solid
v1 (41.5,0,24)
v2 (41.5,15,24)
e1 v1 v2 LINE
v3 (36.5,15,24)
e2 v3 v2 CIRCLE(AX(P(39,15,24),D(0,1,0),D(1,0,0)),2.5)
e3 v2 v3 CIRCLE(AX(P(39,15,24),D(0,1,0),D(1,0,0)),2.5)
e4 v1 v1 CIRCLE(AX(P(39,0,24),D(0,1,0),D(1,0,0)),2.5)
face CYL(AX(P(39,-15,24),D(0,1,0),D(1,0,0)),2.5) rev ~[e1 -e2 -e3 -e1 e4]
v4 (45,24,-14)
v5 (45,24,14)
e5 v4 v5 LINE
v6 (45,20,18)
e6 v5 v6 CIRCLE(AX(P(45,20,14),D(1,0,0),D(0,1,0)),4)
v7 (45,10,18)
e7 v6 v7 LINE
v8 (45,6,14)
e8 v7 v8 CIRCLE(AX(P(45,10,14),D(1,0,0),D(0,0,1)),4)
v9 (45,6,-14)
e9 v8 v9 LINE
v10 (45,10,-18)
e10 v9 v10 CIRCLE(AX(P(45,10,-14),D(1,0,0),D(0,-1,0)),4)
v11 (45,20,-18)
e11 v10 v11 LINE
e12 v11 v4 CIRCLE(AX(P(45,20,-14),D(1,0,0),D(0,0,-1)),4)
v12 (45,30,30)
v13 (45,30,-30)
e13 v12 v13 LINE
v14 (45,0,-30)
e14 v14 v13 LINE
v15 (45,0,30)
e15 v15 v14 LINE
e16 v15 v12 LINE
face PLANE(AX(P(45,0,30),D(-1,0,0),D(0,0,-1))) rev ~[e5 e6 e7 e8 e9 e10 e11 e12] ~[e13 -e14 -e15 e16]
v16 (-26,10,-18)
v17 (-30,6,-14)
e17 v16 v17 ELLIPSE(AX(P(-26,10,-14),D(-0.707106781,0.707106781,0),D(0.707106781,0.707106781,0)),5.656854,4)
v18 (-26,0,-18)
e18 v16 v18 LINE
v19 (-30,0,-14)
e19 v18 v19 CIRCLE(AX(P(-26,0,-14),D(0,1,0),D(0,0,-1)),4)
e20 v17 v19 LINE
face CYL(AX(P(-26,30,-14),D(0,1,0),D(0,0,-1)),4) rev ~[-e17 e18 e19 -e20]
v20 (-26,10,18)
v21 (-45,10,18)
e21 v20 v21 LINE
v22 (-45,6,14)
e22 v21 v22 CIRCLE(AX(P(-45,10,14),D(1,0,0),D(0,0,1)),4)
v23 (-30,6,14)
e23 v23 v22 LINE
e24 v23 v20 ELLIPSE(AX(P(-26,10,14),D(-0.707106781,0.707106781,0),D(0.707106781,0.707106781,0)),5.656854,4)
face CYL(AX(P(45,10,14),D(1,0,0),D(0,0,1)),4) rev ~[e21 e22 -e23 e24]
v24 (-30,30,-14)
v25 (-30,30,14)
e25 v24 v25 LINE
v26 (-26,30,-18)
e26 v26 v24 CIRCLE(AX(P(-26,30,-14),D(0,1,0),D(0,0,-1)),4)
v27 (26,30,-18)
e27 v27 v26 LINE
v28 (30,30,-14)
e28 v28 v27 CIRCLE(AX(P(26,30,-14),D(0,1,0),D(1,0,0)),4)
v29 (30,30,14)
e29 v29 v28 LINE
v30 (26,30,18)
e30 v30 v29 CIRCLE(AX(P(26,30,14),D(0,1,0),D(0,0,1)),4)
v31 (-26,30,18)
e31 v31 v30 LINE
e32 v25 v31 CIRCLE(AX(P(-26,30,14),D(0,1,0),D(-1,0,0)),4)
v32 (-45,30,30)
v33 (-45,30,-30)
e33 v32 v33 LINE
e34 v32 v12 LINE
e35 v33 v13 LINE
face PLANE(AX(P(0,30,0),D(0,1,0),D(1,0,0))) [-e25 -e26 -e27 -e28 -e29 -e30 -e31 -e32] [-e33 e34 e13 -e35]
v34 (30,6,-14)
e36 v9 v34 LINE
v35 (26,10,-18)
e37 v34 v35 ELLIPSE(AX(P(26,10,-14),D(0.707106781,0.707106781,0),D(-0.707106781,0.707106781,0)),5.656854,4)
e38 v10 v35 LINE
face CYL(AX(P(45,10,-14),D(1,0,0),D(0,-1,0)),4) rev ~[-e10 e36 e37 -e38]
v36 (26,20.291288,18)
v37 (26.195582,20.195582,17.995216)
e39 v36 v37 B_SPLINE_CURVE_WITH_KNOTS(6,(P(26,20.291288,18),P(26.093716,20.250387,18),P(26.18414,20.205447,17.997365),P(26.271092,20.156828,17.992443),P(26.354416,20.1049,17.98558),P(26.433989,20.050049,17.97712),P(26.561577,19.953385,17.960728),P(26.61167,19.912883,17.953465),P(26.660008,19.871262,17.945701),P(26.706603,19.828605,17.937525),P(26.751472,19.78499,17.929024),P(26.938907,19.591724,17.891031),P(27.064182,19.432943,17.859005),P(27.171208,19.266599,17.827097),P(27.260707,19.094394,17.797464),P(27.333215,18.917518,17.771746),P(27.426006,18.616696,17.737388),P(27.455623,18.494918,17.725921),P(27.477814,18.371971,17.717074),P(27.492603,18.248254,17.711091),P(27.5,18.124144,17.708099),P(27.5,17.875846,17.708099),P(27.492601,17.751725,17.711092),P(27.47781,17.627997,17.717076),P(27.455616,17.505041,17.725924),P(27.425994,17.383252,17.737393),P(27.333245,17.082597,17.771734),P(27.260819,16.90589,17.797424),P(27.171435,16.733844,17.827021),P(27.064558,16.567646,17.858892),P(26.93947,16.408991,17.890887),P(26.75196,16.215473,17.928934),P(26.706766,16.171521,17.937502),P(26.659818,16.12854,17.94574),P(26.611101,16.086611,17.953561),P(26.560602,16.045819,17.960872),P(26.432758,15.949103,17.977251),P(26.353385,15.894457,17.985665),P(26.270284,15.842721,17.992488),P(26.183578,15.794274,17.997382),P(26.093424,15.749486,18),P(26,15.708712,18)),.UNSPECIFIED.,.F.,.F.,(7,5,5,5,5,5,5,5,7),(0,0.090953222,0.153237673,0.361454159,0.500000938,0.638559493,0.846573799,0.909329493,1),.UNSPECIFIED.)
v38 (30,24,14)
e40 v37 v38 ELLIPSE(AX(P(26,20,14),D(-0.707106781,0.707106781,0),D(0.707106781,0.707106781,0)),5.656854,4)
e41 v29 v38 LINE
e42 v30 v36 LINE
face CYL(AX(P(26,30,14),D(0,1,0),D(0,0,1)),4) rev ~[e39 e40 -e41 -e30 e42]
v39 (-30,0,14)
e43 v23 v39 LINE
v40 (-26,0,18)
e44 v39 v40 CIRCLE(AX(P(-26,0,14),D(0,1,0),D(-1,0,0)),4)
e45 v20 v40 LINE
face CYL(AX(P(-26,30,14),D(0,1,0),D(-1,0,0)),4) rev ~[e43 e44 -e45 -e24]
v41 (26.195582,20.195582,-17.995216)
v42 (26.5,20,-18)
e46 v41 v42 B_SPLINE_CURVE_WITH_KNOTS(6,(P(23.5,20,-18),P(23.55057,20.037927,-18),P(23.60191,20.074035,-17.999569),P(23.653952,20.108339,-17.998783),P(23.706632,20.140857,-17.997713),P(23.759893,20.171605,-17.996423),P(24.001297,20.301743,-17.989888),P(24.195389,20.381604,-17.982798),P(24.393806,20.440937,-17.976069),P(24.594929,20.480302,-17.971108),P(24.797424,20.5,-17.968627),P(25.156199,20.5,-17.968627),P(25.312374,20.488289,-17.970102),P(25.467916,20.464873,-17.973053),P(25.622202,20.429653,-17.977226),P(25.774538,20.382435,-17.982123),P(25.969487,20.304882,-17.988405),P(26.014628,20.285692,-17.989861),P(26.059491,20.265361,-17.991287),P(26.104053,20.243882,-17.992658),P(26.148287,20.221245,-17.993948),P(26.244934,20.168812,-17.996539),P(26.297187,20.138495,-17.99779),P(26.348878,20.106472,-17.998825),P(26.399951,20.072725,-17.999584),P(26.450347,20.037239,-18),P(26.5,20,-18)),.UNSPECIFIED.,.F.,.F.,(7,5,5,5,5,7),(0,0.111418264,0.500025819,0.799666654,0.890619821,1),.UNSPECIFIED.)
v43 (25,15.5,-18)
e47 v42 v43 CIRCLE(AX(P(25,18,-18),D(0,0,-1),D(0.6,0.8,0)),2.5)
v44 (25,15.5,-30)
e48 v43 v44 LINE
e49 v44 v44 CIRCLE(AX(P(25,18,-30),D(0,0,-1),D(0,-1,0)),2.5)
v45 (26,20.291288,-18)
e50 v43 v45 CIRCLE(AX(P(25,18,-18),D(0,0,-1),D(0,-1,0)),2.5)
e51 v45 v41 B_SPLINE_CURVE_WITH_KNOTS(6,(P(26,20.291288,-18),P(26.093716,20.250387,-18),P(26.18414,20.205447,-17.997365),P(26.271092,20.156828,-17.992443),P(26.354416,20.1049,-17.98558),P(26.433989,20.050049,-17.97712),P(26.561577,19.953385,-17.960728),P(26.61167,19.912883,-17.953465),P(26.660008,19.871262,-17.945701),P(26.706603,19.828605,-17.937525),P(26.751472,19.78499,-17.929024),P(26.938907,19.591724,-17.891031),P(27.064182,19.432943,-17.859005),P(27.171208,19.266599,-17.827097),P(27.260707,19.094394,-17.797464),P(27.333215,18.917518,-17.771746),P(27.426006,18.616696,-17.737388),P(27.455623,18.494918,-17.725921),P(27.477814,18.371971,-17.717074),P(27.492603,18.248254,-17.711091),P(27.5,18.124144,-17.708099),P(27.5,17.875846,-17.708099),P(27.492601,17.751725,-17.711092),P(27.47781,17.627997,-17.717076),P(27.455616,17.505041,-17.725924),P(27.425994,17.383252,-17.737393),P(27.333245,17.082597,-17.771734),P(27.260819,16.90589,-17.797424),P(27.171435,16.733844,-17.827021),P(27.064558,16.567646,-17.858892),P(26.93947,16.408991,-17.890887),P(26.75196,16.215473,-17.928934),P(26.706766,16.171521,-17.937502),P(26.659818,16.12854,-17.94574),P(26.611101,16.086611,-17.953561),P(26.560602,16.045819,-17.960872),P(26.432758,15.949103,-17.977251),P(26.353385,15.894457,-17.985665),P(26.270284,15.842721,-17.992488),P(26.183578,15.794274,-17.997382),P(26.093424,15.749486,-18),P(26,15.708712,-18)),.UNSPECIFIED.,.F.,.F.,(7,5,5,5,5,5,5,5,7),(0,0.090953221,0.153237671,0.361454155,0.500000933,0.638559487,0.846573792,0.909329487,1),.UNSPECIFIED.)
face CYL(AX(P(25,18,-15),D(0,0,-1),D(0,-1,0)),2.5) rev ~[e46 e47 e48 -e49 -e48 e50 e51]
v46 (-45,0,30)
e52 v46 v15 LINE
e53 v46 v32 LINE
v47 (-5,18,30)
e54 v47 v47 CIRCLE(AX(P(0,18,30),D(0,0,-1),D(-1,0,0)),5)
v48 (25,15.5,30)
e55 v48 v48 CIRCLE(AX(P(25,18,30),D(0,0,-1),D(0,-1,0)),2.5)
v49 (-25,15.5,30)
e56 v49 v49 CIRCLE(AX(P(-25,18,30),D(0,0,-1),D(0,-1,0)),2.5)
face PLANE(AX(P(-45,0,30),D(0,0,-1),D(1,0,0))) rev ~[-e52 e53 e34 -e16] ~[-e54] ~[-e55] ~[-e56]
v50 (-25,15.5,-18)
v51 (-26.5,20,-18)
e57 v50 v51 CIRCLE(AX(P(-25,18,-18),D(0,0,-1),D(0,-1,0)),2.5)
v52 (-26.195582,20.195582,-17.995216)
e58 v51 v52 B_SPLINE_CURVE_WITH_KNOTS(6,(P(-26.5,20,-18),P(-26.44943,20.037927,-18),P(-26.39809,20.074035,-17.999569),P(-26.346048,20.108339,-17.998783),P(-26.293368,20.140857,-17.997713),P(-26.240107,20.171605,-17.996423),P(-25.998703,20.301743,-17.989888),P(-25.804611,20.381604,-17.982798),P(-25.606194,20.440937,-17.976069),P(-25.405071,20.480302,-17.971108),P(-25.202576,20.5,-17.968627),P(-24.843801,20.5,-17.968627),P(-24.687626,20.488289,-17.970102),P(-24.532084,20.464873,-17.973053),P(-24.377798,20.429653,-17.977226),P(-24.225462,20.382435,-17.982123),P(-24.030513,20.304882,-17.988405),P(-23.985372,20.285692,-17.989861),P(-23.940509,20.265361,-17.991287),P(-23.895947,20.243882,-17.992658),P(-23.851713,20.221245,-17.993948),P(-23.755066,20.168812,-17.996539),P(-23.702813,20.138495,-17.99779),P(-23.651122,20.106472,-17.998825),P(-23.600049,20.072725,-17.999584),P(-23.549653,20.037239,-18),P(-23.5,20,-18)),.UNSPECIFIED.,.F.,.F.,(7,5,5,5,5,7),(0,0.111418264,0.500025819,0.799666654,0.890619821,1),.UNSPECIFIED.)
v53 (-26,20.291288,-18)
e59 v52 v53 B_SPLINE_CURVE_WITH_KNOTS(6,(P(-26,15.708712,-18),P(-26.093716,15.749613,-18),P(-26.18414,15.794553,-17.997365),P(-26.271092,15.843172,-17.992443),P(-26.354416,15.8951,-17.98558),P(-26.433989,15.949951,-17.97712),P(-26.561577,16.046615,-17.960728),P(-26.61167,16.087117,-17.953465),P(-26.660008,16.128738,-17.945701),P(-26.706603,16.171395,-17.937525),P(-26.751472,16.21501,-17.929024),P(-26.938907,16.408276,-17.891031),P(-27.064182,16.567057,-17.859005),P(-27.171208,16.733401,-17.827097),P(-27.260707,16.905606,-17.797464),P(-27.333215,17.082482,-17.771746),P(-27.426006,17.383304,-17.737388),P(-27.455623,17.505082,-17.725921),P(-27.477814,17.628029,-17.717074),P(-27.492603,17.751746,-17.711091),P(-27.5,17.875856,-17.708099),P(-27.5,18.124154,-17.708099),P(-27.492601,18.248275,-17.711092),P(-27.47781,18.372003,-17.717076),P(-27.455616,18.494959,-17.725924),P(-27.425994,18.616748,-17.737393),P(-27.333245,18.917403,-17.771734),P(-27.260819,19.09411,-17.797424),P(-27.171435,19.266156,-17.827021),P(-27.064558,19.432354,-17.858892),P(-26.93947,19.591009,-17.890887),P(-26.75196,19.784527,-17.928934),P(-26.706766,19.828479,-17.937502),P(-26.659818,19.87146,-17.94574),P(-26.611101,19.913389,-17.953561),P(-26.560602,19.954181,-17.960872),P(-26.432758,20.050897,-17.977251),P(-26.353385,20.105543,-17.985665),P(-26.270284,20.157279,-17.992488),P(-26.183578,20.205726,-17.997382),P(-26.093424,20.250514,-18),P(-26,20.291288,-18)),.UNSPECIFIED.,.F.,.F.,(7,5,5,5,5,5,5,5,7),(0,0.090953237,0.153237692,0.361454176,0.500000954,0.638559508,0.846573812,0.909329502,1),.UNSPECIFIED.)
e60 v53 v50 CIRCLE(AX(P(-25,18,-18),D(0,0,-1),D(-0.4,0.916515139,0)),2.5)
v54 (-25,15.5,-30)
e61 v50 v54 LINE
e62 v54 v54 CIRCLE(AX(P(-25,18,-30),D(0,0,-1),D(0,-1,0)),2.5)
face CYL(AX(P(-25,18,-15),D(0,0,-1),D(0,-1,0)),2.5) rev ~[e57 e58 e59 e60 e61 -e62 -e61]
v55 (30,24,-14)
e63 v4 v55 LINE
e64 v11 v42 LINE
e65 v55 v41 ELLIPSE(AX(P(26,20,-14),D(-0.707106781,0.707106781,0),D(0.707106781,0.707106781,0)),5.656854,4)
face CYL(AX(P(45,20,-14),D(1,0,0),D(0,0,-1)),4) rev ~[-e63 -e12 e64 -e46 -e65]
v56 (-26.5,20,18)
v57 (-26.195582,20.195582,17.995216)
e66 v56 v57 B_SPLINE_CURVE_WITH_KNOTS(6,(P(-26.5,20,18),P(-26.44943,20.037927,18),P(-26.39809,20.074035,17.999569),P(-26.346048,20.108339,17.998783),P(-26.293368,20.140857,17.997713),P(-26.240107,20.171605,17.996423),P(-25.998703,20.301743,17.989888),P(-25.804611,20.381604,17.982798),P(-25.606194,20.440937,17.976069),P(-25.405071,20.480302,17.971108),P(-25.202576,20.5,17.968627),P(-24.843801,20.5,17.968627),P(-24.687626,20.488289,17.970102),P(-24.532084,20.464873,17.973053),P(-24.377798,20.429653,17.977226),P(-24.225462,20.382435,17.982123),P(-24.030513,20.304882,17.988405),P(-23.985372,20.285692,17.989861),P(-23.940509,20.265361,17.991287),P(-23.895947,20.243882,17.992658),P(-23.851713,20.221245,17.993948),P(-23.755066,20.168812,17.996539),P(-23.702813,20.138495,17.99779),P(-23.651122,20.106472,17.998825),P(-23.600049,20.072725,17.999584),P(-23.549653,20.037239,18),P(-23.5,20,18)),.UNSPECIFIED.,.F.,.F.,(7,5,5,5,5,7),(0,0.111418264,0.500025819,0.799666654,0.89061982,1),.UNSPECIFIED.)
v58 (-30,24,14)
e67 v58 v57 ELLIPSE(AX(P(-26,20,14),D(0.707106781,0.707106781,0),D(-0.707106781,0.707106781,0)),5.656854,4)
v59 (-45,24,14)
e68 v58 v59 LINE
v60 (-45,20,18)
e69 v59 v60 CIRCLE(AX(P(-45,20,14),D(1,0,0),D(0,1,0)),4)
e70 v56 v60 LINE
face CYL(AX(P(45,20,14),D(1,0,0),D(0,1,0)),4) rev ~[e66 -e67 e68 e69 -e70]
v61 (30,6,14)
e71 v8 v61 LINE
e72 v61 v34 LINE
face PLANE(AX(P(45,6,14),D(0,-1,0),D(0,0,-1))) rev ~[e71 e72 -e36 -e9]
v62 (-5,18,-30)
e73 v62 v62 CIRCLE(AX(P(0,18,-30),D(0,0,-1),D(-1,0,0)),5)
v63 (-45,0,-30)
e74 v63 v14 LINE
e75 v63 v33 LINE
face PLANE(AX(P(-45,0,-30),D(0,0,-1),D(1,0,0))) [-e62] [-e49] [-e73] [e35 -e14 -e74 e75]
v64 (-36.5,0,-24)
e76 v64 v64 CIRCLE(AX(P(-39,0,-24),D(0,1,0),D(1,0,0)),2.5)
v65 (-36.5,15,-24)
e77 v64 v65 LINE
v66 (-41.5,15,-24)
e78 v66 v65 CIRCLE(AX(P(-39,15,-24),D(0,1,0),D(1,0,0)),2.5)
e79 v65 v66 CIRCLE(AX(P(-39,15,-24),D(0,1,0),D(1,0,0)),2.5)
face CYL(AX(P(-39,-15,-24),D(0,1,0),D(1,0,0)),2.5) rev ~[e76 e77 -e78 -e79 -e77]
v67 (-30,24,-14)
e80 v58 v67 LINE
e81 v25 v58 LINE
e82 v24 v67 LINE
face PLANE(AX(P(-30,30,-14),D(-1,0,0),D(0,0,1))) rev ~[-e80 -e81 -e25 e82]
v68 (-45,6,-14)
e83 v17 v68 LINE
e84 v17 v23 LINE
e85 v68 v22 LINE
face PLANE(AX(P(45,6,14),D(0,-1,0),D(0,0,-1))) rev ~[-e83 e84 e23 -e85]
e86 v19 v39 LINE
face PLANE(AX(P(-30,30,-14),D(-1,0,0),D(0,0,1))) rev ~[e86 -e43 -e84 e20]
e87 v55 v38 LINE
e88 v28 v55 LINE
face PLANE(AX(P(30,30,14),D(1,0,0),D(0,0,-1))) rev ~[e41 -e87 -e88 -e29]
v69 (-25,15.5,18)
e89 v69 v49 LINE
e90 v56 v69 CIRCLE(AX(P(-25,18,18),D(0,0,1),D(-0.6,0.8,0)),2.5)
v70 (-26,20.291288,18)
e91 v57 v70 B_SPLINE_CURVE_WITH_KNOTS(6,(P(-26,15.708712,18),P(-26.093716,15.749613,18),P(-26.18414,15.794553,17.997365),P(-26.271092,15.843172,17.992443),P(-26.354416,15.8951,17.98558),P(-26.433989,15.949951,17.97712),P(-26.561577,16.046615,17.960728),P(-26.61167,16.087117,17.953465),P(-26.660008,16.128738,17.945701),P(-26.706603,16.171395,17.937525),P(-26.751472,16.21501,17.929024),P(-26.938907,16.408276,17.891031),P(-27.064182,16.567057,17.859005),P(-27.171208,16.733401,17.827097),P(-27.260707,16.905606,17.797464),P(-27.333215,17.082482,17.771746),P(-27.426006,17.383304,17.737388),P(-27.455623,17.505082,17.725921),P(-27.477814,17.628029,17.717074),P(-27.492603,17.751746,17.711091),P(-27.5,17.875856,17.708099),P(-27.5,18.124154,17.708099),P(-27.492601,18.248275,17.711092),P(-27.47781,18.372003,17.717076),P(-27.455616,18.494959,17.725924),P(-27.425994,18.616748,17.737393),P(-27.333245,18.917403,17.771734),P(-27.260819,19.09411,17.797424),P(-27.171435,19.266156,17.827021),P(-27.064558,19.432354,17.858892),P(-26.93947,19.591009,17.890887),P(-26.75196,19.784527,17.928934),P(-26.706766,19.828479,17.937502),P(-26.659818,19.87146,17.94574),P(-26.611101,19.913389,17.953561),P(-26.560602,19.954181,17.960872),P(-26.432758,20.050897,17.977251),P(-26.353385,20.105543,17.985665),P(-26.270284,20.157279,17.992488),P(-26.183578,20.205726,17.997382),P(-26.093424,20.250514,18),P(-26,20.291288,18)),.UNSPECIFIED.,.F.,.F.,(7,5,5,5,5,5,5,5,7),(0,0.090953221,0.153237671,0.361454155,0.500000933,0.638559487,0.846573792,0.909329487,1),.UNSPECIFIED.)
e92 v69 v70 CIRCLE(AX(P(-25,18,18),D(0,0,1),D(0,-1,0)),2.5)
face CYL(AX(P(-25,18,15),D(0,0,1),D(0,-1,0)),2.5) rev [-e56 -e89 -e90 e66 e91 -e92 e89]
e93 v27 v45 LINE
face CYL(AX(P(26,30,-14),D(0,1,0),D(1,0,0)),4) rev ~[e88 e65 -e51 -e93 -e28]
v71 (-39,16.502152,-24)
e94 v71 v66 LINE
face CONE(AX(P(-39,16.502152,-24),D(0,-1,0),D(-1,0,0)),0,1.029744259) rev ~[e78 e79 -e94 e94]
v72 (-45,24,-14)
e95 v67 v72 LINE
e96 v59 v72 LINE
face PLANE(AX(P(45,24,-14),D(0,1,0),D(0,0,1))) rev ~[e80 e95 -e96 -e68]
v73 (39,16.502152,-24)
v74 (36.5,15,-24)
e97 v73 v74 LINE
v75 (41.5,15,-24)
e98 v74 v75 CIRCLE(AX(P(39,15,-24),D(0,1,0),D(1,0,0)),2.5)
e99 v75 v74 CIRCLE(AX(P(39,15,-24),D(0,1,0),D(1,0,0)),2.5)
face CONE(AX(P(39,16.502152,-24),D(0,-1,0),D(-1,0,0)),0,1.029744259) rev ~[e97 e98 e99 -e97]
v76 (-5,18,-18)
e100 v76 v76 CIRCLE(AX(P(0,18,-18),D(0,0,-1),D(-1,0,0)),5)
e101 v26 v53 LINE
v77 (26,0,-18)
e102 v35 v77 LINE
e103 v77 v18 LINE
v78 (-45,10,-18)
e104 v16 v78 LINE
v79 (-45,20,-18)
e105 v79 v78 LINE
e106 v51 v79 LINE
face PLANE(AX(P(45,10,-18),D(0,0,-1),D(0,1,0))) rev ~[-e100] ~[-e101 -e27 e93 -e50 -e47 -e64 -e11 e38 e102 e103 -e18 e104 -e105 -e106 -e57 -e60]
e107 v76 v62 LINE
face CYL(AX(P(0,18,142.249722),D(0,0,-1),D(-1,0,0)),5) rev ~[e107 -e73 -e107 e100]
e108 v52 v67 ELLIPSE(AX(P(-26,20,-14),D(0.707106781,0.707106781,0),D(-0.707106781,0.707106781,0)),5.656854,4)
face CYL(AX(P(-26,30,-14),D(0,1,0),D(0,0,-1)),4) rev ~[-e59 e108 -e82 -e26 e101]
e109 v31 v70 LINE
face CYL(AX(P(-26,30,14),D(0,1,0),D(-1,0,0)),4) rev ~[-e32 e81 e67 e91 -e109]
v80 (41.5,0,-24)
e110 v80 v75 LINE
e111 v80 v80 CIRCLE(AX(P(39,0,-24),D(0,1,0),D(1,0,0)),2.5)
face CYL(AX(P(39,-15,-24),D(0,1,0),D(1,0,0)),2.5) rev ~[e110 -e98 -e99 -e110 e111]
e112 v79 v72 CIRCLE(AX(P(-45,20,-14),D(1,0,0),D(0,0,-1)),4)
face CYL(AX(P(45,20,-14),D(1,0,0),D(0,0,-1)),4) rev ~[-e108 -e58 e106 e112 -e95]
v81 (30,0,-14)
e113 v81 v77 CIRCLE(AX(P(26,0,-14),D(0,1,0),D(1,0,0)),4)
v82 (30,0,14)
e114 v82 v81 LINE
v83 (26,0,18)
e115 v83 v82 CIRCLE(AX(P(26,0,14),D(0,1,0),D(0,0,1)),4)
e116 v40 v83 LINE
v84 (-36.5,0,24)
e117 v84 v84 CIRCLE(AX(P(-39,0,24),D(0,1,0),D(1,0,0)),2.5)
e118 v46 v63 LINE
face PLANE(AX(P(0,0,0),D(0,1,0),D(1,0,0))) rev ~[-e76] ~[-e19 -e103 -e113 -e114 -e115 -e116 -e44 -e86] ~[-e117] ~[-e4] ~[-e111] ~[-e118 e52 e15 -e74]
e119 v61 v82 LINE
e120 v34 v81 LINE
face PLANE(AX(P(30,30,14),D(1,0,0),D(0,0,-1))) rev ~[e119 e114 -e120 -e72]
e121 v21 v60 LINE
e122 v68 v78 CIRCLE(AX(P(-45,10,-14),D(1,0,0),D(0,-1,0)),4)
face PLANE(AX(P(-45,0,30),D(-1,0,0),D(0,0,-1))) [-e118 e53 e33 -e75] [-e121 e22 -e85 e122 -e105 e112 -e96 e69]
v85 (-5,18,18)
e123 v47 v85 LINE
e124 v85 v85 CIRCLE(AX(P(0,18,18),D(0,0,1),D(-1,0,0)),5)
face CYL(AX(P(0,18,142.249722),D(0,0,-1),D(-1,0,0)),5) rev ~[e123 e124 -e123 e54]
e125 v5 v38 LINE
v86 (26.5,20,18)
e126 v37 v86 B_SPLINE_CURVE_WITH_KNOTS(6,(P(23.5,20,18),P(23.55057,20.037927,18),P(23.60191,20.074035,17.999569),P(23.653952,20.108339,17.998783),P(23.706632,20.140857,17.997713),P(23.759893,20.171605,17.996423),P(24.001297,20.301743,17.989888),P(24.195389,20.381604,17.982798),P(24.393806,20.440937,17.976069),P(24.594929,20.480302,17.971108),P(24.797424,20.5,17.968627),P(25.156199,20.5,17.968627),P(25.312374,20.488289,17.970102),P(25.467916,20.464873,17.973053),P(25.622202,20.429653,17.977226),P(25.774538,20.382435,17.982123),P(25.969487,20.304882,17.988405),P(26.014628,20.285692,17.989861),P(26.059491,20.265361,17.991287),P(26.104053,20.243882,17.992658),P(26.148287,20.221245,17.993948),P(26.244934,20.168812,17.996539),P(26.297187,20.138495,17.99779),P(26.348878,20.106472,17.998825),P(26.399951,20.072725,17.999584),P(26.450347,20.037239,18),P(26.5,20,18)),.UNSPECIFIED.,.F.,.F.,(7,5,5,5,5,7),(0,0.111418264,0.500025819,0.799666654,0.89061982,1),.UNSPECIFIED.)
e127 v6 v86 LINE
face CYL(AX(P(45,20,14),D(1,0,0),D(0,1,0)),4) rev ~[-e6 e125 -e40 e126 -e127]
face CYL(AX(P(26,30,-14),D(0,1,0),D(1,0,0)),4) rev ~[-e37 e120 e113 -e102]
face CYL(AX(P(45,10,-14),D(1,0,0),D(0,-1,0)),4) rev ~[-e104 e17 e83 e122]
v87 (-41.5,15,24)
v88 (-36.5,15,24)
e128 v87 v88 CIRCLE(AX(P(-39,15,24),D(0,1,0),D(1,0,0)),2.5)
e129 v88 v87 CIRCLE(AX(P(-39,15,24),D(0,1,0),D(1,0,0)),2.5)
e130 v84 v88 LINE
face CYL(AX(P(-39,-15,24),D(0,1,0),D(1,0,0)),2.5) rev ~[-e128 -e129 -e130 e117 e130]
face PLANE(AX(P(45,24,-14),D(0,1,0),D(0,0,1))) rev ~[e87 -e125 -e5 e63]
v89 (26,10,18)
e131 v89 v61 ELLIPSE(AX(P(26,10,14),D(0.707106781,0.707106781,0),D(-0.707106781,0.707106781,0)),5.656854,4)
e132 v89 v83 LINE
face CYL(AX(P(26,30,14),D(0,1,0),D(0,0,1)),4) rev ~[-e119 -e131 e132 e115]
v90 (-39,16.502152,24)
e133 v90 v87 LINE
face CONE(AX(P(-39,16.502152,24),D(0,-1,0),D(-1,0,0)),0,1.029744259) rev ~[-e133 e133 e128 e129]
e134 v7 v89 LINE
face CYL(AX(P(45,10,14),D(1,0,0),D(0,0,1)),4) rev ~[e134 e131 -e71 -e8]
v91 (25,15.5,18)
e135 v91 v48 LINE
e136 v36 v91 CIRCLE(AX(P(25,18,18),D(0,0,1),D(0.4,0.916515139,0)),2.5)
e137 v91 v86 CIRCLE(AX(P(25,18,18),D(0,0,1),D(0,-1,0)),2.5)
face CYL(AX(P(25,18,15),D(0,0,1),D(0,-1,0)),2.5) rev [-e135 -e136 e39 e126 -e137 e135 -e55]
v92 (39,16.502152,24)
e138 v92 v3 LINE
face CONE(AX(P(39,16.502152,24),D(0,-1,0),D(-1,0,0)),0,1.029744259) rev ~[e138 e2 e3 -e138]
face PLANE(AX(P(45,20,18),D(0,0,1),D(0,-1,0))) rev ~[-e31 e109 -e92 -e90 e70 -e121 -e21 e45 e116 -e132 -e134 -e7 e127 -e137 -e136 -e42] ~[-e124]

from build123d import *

# Parameters (mm, degrees)
SKETCH_1_W                  = 90
SKETCH_1_H                  = 60
EXTRUDE_1_DEPTH             = 30
HOLE_WIZARD_1_D             = 10
HOLE_WIZARD_M6_1_AT_2_COUNT = 2
HOLE_WIZARD_M6_1_AT_2_PITCH = 50
CUT_EXTRUDE_1_DEPTH         = 62.846584384
HOLE_WIZARD_M6_2_D          = 5
HOLE_WIZARD_M6_2_DEPTH      = 15
HOLE_WIZARD_M6_2_TIP        = 1.502151548
CUT_EXTRUDE_2_DEPTH         = 100.498743771


with BuildPart() as part:
    # 草图1 → 凸台-拉伸1 (new body)
    with BuildSketch(Plane(origin=(0, 0, 0), x_dir=(1, 0, 0), z_dir=(0, 1, 0))):
        Rectangle(SKETCH_1_W, SKETCH_1_H)
    extrude(amount=EXTRUDE_1_DEPTH)

    # 孔1 (through all)
    with Locations(Plane.XY.offset(30)):
        with Locations((0, 18)):
            Hole(HOLE_WIZARD_1_D / 2)

    # 草图4 → M6 螺纹孔1 (revolve, cut)
    with BuildSketch(Plane(origin=(-25, 18, 30), x_dir=(0, -1, 0), z_dir=(1, 0, 0))):
        Polygon((0, 0), (0, 16.502151548), (2.5, 15), (2.5, 0), align=None)
    hole_wizard_m6_1 = revolve(axis=Axis((-25, 18, 36.35), (0, 0, -1)), mode=Mode.SUBTRACT)

    # M6 螺纹孔1 at 2: M6 螺纹孔1 ×2
    with Locations(*[(i * HOLE_WIZARD_M6_1_AT_2_PITCH, 0, 0) for i in range(1, HOLE_WIZARD_M6_1_AT_2_COUNT)]):
        add(hole_wizard_m6_1, mode=Mode.SUBTRACT)

    # 镜向1: M6 螺纹孔1 across plane
    add(hole_wizard_m6_1.mirror(Plane.XY), mode=Mode.SUBTRACT)

    # 镜向1 copy 1 sketch → 镜向1 copy 1 (revolve, cut)
    with BuildSketch(Plane(origin=(25, 18, -30), x_dir=(0, -1, 0), z_dir=(1, 0, 0))):
        Polygon((0, 0), (0, -16.502151548), (2.5, -15), (2.5, 0), align=None)
    revolve(axis=Axis((25, 18, -36.35), (0, 0, -1)), mode=Mode.SUBTRACT)

    # 草图6 → 切除-拉伸1 (cut, through all)
    with BuildSketch(Plane(origin=(0, 30, 0), x_dir=(1, 0, 0), z_dir=(0, 1, 0))):
        with BuildLine():
            Line((-26, -18), (26, -18))
            ThreePointArc((26, -18), (28.828427125, -16.828427125), (30, -14))
            Line((30, -14), (30, 14))
            ThreePointArc((30, 14), (28.828427125, 16.828427125), (26, 18))
            Line((26, 18), (-26, 18))
            ThreePointArc((-26, 18), (-28.828427125, 16.828427125), (-30, 14))
            Line((-30, 14), (-30, -14))
            ThreePointArc((-30, -14), (-28.828427125, -16.828427125), (-26, -18))
        make_face()
    extrude(amount=-CUT_EXTRUDE_1_DEPTH, mode=Mode.SUBTRACT)

    # M6 螺纹孔2
    with Locations(Plane(origin=(0, 0, 0), x_dir=(-1, 0, 0), z_dir=(0, -1, 0))):
        with Locations((-39, -24), (39, -24), (39, 24), (-39, 24)):
            Hole(HOLE_WIZARD_M6_2_D / 2, depth=HOLE_WIZARD_M6_2_DEPTH)
            with Locations((0, 0, -(HOLE_WIZARD_M6_2_DEPTH + HOLE_WIZARD_M6_2_TIP / 2))):  # 118° drill point
                Cone(0, HOLE_WIZARD_M6_2_D / 2, HOLE_WIZARD_M6_2_TIP, mode=Mode.SUBTRACT)

    # 草图9 → 切除-拉伸2 (cut, through all)
    with BuildSketch(Plane(origin=(45, 0, 0), x_dir=(0, 0, -1), z_dir=(1, 0, 0))):
        with BuildLine():
            Line((-14, 6), (14, 6))
            ThreePointArc((14, 6), (16.828427125, 7.171572875), (18, 10))
            Line((18, 10), (18, 20))
            ThreePointArc((18, 20), (16.828427125, 22.828427125), (14, 24))
            Line((14, 24), (-14, 24))
            ThreePointArc((-14, 24), (-16.828427125, 22.828427125), (-18, 20))
            Line((-18, 20), (-18, 10))
            ThreePointArc((-18, 10), (-16.828427125, 7.171572875), (-14, 6))
        make_face()
    extrude(amount=-CUT_EXTRUDE_2_DEPTH, mode=Mode.SUBTRACT)


solid = part.part
